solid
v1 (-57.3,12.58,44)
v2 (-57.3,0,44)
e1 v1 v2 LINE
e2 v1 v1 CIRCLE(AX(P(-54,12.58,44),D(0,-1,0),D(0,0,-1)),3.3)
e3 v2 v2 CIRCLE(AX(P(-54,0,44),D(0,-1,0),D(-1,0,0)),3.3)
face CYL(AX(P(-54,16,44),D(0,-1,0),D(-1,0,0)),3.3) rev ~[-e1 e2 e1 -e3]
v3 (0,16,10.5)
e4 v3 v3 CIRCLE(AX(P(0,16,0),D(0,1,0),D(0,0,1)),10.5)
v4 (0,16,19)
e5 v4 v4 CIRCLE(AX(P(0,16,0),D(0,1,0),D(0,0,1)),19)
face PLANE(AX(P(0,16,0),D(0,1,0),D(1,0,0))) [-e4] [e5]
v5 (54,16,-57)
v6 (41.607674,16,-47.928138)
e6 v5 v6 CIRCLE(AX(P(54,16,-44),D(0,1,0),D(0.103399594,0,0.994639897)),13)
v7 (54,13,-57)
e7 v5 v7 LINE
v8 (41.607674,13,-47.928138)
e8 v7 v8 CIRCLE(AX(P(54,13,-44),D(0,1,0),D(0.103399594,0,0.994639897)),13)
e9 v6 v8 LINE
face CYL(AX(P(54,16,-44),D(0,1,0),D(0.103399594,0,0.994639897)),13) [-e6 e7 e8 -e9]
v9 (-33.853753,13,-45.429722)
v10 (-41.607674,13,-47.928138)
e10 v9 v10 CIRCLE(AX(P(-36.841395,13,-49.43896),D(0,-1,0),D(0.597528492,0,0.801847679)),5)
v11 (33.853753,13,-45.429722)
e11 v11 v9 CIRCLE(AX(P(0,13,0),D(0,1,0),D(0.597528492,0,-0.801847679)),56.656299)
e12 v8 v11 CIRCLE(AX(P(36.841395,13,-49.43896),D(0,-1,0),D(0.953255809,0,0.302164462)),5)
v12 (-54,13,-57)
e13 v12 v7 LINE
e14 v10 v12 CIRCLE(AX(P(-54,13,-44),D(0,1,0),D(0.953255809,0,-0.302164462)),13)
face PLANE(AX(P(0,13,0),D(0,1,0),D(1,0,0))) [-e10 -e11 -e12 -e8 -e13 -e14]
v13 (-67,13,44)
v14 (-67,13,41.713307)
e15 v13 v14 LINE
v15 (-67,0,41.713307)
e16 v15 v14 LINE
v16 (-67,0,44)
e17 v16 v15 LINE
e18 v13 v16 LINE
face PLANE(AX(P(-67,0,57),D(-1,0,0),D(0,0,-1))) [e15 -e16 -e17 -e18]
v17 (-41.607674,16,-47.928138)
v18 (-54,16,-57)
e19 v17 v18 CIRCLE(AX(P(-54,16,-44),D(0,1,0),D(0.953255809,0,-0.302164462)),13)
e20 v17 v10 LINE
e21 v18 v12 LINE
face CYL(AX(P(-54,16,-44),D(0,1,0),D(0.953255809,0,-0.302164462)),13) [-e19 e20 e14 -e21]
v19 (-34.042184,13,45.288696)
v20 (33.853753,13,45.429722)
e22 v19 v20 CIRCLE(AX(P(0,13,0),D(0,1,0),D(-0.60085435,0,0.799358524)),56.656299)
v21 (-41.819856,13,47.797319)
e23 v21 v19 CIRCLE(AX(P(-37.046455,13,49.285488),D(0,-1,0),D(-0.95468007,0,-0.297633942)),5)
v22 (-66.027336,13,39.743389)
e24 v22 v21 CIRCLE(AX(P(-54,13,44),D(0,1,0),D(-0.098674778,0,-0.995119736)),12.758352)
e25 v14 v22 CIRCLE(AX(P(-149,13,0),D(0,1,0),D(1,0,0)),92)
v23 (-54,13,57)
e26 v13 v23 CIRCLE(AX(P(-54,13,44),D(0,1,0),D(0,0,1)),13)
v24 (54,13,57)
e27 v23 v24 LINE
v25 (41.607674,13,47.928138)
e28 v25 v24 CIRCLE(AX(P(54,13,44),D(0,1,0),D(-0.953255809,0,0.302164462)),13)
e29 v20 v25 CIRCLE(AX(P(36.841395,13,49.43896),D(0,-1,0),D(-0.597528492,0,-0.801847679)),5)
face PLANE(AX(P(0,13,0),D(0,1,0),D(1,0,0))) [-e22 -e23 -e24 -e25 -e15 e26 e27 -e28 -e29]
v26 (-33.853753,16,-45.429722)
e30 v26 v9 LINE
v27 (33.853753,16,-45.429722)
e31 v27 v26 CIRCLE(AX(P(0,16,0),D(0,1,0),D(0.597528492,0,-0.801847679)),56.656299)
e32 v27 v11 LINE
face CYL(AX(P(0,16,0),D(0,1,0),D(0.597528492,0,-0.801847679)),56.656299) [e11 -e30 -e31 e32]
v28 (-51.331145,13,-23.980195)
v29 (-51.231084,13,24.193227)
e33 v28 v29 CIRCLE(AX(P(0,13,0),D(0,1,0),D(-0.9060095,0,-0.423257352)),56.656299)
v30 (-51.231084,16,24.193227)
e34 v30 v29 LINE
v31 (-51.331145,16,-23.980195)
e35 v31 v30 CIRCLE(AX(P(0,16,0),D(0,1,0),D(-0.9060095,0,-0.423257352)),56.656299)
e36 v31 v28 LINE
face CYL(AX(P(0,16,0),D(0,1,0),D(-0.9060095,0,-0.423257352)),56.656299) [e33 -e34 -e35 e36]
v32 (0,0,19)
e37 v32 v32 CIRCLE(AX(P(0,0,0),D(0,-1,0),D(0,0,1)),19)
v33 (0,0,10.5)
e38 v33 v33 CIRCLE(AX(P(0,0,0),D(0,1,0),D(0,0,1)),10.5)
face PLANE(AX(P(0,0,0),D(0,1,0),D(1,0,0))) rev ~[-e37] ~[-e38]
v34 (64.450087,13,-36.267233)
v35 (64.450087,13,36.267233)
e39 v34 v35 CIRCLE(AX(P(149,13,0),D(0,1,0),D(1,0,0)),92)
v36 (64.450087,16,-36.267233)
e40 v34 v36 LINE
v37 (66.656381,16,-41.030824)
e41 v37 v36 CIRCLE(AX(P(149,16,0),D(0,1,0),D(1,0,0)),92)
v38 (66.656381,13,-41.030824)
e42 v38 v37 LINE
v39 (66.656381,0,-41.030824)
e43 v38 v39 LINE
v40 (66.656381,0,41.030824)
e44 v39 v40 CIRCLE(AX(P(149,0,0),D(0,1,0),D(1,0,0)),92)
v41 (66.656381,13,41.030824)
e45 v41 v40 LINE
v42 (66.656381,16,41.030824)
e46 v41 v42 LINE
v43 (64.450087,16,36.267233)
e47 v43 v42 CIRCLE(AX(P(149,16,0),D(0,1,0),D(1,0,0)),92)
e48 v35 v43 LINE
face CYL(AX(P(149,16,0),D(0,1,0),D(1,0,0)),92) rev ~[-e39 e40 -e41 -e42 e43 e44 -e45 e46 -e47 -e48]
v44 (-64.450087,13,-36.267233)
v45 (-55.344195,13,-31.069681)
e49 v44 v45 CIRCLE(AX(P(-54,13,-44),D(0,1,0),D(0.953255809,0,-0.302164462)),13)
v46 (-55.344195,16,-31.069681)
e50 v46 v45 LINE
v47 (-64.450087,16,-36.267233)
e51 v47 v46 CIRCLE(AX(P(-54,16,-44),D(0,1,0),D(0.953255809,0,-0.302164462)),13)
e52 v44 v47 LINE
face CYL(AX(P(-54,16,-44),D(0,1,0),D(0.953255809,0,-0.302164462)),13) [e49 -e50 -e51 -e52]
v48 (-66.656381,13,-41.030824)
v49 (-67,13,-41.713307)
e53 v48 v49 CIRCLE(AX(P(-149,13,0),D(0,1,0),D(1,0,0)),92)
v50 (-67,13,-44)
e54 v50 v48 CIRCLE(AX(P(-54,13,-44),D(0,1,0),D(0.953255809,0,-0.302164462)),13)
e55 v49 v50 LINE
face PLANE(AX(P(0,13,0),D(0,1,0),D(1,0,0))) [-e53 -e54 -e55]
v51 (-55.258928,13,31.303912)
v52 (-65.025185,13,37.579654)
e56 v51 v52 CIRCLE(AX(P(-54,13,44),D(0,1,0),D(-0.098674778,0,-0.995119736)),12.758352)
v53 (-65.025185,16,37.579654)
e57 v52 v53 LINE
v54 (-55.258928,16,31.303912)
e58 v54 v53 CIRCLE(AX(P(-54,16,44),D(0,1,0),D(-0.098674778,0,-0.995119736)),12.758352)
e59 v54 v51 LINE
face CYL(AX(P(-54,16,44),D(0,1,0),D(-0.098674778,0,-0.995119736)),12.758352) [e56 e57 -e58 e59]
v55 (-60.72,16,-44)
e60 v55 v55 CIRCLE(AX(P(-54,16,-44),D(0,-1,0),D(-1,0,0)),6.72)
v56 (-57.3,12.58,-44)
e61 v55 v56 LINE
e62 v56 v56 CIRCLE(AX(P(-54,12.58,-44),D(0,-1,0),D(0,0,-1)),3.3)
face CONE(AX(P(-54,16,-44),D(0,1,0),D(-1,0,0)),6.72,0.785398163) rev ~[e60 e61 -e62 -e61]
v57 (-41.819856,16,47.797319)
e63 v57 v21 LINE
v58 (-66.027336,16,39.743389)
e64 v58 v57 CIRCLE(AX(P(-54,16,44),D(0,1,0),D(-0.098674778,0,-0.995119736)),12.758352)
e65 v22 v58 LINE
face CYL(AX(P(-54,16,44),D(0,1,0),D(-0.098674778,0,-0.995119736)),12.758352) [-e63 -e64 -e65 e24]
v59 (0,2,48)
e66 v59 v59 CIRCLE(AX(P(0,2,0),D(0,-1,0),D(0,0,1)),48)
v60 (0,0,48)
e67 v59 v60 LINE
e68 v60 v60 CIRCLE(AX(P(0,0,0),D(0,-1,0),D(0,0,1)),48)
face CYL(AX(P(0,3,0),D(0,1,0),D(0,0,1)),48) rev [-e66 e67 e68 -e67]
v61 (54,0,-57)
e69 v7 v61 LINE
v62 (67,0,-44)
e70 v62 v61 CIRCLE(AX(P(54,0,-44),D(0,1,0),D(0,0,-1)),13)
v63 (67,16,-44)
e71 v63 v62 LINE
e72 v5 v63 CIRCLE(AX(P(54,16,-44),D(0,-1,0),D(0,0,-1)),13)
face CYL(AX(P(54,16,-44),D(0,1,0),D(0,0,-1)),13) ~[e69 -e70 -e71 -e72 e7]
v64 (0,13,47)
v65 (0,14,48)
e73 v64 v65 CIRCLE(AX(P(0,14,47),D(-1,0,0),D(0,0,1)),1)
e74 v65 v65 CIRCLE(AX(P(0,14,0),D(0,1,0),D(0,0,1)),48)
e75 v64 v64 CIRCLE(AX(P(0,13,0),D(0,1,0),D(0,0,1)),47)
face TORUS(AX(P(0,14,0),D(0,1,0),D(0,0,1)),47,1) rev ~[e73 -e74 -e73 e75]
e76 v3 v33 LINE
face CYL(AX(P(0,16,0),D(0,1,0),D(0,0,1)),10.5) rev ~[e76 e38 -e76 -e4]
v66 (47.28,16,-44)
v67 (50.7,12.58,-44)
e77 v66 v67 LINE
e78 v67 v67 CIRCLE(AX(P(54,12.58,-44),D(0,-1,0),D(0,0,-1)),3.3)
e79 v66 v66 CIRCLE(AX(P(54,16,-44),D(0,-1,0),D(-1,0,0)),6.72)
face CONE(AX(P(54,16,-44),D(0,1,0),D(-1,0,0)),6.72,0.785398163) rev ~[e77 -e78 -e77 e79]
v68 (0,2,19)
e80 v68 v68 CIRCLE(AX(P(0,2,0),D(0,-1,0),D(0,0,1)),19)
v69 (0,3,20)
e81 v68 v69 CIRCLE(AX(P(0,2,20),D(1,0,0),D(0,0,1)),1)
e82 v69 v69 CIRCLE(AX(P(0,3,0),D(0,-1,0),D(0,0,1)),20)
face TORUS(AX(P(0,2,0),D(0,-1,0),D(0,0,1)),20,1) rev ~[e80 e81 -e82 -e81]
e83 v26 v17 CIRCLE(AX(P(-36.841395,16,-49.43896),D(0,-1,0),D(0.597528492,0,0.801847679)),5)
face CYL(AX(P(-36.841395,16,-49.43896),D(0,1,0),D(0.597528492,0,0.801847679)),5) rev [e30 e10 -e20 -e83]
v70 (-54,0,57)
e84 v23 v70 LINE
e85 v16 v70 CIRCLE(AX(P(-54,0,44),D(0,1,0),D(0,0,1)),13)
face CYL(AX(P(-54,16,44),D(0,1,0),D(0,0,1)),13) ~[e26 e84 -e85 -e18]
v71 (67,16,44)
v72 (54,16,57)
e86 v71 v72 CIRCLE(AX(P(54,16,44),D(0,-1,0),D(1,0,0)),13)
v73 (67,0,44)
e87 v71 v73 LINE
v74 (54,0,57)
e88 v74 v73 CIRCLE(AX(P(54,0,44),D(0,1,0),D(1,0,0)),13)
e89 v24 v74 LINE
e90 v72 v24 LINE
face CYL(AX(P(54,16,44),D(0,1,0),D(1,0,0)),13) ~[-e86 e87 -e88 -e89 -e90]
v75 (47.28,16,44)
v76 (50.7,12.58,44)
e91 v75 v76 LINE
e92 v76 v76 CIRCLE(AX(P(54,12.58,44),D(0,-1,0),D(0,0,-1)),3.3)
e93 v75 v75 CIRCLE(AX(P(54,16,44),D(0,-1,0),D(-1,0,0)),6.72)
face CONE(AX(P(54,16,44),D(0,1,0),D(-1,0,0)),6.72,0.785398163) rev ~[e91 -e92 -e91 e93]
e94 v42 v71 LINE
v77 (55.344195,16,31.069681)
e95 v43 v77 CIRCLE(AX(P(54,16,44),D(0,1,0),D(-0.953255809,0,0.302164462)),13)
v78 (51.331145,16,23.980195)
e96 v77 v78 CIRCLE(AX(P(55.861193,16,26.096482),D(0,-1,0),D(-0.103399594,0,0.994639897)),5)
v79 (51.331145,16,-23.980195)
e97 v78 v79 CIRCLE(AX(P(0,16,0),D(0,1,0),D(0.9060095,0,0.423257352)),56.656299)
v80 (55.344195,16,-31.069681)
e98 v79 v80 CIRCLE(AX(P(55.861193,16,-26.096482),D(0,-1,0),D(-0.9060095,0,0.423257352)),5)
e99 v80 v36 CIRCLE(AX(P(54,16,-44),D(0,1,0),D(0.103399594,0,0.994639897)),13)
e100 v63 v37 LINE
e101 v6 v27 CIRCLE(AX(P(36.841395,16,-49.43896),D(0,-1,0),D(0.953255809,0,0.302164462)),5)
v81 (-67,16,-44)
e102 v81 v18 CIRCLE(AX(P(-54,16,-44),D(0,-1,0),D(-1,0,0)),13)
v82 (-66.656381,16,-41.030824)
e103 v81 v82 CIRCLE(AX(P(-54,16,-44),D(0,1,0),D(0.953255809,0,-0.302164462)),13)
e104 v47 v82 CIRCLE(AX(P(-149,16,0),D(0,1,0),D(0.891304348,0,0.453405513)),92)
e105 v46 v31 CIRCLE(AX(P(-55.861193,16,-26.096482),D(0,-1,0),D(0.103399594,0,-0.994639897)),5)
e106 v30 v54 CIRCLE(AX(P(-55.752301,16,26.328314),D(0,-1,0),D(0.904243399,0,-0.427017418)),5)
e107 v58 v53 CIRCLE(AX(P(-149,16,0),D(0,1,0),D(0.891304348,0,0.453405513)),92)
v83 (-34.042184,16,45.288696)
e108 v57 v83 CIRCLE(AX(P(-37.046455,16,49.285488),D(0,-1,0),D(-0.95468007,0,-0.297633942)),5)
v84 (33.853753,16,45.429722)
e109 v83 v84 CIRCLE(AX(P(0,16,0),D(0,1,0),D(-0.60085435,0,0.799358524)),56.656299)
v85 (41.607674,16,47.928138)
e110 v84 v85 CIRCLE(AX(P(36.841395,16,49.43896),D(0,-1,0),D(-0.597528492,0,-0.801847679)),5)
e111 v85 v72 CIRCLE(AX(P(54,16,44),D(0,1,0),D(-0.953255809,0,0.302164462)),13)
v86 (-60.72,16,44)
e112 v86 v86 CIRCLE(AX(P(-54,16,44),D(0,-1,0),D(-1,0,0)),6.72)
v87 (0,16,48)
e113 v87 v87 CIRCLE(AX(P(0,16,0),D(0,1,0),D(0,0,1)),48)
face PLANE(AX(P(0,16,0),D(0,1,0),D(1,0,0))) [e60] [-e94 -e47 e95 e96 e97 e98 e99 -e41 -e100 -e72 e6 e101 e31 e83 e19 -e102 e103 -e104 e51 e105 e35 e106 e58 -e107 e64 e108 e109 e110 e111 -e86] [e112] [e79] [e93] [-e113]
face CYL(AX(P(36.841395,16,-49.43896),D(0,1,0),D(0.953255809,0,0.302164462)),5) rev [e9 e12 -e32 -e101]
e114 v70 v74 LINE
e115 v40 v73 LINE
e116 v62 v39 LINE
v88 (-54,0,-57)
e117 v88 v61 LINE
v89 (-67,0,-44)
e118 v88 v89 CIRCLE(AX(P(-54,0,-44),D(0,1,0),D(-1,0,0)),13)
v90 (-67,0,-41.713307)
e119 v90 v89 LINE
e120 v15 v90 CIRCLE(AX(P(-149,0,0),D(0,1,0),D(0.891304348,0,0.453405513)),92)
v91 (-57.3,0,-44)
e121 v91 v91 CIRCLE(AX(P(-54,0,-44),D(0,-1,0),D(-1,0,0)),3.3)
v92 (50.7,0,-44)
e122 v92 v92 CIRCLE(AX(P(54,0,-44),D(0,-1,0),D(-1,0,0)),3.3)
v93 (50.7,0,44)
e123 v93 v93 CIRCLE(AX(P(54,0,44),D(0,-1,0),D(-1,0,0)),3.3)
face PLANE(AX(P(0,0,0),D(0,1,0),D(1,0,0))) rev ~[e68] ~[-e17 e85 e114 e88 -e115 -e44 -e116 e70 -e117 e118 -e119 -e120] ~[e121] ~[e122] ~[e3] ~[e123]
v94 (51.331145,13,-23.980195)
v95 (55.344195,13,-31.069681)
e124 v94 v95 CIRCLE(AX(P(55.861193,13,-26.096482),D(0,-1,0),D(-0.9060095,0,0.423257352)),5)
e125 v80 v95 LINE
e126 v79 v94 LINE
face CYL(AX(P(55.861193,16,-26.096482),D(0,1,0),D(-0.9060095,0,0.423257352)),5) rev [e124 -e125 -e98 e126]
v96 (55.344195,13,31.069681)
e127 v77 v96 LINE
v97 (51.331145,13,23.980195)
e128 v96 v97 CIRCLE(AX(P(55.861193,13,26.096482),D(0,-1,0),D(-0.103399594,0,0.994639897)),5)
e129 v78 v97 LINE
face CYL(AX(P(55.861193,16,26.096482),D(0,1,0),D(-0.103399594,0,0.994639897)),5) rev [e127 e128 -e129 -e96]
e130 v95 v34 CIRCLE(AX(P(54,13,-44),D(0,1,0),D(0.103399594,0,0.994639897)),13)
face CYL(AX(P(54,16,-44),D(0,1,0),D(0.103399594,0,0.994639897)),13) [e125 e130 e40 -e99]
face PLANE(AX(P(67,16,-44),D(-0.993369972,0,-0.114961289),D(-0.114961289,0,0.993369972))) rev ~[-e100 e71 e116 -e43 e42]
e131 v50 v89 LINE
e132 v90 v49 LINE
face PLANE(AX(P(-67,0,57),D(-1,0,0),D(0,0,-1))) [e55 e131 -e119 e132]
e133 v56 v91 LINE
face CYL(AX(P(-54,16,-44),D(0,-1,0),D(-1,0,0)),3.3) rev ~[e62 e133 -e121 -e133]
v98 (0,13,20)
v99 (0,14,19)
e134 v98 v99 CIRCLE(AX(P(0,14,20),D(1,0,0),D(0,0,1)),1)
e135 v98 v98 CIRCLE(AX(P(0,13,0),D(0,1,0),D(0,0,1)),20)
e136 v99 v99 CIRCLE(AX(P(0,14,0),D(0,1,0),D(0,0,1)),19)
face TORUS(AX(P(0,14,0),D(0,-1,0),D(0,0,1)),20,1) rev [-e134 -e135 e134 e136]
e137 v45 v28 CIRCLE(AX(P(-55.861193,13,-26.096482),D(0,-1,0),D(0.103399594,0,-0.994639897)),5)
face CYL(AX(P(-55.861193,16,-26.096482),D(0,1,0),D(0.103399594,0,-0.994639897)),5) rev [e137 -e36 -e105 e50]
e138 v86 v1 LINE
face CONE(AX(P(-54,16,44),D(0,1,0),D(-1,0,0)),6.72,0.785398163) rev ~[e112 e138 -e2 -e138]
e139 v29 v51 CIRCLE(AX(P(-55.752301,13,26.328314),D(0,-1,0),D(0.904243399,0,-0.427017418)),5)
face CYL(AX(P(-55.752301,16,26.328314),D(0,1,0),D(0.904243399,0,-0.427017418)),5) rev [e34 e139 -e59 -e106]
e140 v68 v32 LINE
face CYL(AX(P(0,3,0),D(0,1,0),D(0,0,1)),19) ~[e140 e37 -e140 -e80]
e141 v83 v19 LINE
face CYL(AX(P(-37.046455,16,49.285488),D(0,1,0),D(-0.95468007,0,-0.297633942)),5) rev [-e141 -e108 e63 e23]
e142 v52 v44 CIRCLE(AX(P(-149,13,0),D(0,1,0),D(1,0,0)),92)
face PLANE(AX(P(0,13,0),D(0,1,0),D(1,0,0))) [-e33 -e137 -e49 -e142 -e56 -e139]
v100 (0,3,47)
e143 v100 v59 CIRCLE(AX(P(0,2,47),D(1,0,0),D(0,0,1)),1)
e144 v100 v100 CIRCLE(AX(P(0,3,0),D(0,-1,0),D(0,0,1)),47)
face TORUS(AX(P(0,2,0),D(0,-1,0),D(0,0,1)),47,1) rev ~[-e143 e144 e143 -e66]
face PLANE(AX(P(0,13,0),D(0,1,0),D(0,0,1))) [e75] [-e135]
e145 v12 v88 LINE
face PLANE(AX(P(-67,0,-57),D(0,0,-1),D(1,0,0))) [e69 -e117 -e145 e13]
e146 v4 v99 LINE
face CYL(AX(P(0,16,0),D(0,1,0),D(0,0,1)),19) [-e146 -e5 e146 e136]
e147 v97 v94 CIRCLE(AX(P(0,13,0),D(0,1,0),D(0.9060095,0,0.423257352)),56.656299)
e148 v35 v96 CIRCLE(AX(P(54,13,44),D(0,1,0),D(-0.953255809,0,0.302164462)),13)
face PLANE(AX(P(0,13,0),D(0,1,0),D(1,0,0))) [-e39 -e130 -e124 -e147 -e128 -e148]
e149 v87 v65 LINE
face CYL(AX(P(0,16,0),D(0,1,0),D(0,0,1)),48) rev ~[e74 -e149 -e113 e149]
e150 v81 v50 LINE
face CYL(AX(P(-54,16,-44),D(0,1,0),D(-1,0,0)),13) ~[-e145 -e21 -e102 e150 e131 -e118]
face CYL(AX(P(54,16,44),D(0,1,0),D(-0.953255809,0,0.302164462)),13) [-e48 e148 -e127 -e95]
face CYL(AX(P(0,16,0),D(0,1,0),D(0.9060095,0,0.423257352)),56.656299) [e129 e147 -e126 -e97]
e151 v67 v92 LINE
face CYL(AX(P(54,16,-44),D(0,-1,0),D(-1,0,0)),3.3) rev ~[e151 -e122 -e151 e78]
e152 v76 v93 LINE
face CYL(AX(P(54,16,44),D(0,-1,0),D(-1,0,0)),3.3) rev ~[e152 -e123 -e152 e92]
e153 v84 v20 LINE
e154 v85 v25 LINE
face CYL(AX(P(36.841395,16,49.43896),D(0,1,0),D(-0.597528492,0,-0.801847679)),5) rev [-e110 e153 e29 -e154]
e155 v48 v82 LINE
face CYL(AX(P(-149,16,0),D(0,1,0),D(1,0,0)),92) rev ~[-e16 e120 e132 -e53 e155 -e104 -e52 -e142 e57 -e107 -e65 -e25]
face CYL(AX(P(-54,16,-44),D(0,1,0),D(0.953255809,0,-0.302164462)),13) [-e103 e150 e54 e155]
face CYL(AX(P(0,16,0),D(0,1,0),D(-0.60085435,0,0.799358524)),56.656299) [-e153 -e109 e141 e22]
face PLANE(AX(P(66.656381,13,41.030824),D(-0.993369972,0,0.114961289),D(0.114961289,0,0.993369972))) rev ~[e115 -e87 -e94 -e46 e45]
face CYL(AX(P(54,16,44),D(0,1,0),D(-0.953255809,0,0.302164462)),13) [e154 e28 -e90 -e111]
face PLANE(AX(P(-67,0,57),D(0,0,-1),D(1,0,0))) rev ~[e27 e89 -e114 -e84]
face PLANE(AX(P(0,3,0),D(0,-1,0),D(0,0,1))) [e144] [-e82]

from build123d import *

# Parameters (mm, degrees)
SKETCH1_W                                            = 134
SKETCH1_H                                            = 114
BOSS_EXTRUDE1_DEPTH                                  = 16
SKETCH2_R                                            = 10.5
CUT_EXTRUDE1_DEPTH                                   = 90.409171789
SKETCH3_R                                            = 48
SKETCH3_R_2                                          = 19
CUT_EXTRUDE2_DEPTH                                   = 3
CUT_EXTRUDE3_START                                   = -3
SKETCH5_R                                            = 48
SKETCH5_R_2                                          = 19
CUT_EXTRUDE3_DEPTH                                   = 3
CSK_FOR_M6_HEX_SOCKET_COUNTERSUNK_CAP_SC_D           = 6.6
CSK_FOR_M6_HEX_SOCKET_COUNTERSUNK_CAP_SC_CSINK_D     = 13.44
CSK_FOR_M6_HEX_SOCKET_COUNTERSUNK_CAP_SC_CSINK_ANGLE = 90
SKETCH10_R                                           = 92
CUT_EXTRUDE4_DEPTH                                   = 90.409171789
CUT_EXTRUDE5_DEPTH                                   = 90.409171789
SKETCH13_OUTSIDE_W                                   = 171.332
SKETCH13_OUTSIDE_H                                   = 151.332
CUT_EXTRUDE6_DEPTH                                   = 3
CUT_EXTRUDE7_DEPTH                                   = 90.409171789
CUT_EXTRUDE9_DEPTH                                   = 89.921313531
CUT_EXTRUDE10_DEPTH                                  = 90.409171789
FILLET13_R                                           = 1
FILLET14_R                                           = 1
FILLET16_R                                           = 1
FILLET18_R                                           = 1


with BuildPart() as part:
    # Sketch1 → Boss-Extrude1 (new body)
    with BuildSketch(Plane(origin=(0, 0, 0), x_dir=(1, 0, 0), z_dir=(0, 1, 0))):
        Rectangle(SKETCH1_W, SKETCH1_H)
    extrude(amount=BOSS_EXTRUDE1_DEPTH)

    # Sketch2 → Cut-Extrude1 (cut, through all)
    with BuildSketch(Plane(origin=(0, 16, 0), x_dir=(1, 0, 0), z_dir=(0, 1, 0))):
        with Locations(Location((0, 0, 0), (0, 0, 270))):
            Circle(SKETCH2_R)
    extrude(amount=-CUT_EXTRUDE1_DEPTH, mode=Mode.SUBTRACT)

    # Sketch3 → Cut-Extrude2 (cut)
    with BuildSketch(Plane(origin=(0, 16, 0), x_dir=(1, 0, 0), z_dir=(0, 1, 0))):
        with Locations(Location((0, 0, 0), (0, 0, 270))):
            Circle(SKETCH3_R)
        with Locations(Location((0, 0, 0), (0, 0, 270))):
            Circle(SKETCH3_R_2, mode=Mode.SUBTRACT)
    extrude(amount=-CUT_EXTRUDE2_DEPTH, mode=Mode.SUBTRACT)

    # Sketch5 → Cut-Extrude3 (cut)
    with BuildSketch(Plane.XZ.offset(CUT_EXTRUDE3_START)):
        with Locations(Location((0, 0, 0), (0, 0, 90))):
            Circle(SKETCH5_R)
        with Locations(Location((0, 0, 0), (0, 0, 90))):
            Circle(SKETCH5_R_2, mode=Mode.SUBTRACT)
    extrude(amount=CUT_EXTRUDE3_DEPTH, mode=Mode.SUBTRACT)

    # CSK for M6 Hex Socket Countersunk Cap Screw1 (through all)
    with Locations(Plane(origin=(0, 16, 0), x_dir=(1, 0, 0), z_dir=(0, 1, 0))):
        with Locations((-54, 44), (54, 44), (54, -44), (-54, -44)):
            CounterSinkHole(CSK_FOR_M6_HEX_SOCKET_COUNTERSUNK_CAP_SC_D / 2, CSK_FOR_M6_HEX_SOCKET_COUNTERSUNK_CAP_SC_CSINK_D / 2, counter_sink_angle=CSK_FOR_M6_HEX_SOCKET_COUNTERSUNK_CAP_SC_CSINK_ANGLE)

    # Sketch10 → Cut-Extrude4 (cut, through all)
    with BuildSketch(Plane(origin=(0, 16, 0), x_dir=(1, 0, 0), z_dir=(0, 1, 0))):
        with Locations((149, 0)):
            Circle(SKETCH10_R)
        with Locations((-149, 0)):
            Circle(SKETCH10_R)
    extrude(amount=-CUT_EXTRUDE4_DEPTH, mode=Mode.SUBTRACT)

    # Sketch12 → Cut-Extrude5 (cut, through all)
    with BuildSketch(Plane(origin=(0, 16, 0), x_dir=(1, 0, 0), z_dir=(0, 1, 0))):
        with BuildLine():
            ThreePointArc((-54, -57), (-63.192388155, -53.192388155), (-67, -44))
            Line((-67, -44), (-67, -57))
            Line((-67, -57), (-54, -57))
        make_face()
        with BuildLine():
            ThreePointArc((67, -44), (63.192388155, -53.192388155), (54, -57))
            Line((54, -57), (67, -57))
            Line((67, -57), (67, -44))
        make_face()
        with BuildLine():
            Line((-67, 57), (-67, 44))
            ThreePointArc((-67, 44), (-63.192388155, 53.192388155), (-54, 57))
            Line((-54, 57), (-67, 57))
        make_face()
        with BuildLine():
            Line((67, 57), (54, 57))
            ThreePointArc((54, 57), (63.192388155, 53.192388155), (67, 44))
            Line((67, 44), (67, 57))
        make_face()
    extrude(amount=-CUT_EXTRUDE5_DEPTH, mode=Mode.SUBTRACT)

    # Sketch13 outside → Cut-Extrude6 (cut)
    with BuildSketch(Plane(origin=(0, 16, 0), x_dir=(1, 0, 0), z_dir=(0, 1, 0))):
        Rectangle(SKETCH13_OUTSIDE_W, SKETCH13_OUTSIDE_H)
        with BuildLine():
            ThreePointArc((-51.331145195, 23.980195102), (-56.656176853, -0.117680258), (-51.231084425, -24.193226589))
            ThreePointArc((-51.231084425, -24.193226589), (-51.401784959, -28.792660763), (-55.258927529, -31.303912362))
            ThreePointArc((-55.258927529, -31.303912362), (-63.890720648, -52.059105714), (-41.819855837, -47.797318529))
            ThreePointArc((-41.819855837, -47.797318529), (-38.581301156, -44.526890885), (-34.042183736, -45.288695617))
            ThreePointArc((-34.042183736, -45.288695617), (-0.117680258, -56.656176853), (33.853752972, -45.429721922))
            ThreePointArc((33.853752972, -45.429721922), (38.374825497, -44.679906606), (41.60767448, -47.928138008))
            ThreePointArc((41.60767448, -47.928138008), (64.078054812, -52.211748365), (55.344194725, -31.069681344))
            ThreePointArc((55.344194725, -31.069681344), (51.509943359, -28.559534684), (51.331145195, -23.980195102))
            ThreePointArc((51.331145195, -23.980195102), (56.656299069, 0), (51.331145195, 23.980195102))
            ThreePointArc((51.331145195, 23.980195102), (51.509943359, 28.559534684), (55.344194725, 31.069681344))
            ThreePointArc((55.344194725, 31.069681344), (64.078054812, 52.211748365), (41.60767448, 47.928138008))
            ThreePointArc((41.60767448, 47.928138008), (38.374825497, 44.679906606), (33.853752972, 45.429721922))
            ThreePointArc((33.853752972, 45.429721922), (0, 56.656299069), (-33.853752972, 45.429721922))
            ThreePointArc((-33.853752972, 45.429721922), (-38.374825497, 44.679906606), (-41.60767448, 47.928138008))
            ThreePointArc((-41.60767448, 47.928138008), (-64.078054812, 52.211748365), (-55.344194725, 31.069681344))
            ThreePointArc((-55.344194725, 31.069681344), (-51.509943359, 28.559534684), (-51.331145195, 23.980195102))
        make_face(mode=Mode.SUBTRACT)
    extrude(amount=-CUT_EXTRUDE6_DEPTH, mode=Mode.SUBTRACT)

    # Sketch14 → Cut-Extrude7 (cut, through all)
    with BuildSketch(Plane(origin=(0, 16, 0), x_dir=(1, 0, 0), z_dir=(0, 1, 0))):
        Polygon((67, 44), (66.656381451, 41.030823587), (67, 41.713307229), align=None)
    extrude(amount=-CUT_EXTRUDE7_DEPTH, mode=Mode.SUBTRACT)

    # Sketch15 → Cut-Extrude9 (cut, through all)
    with BuildSketch(Plane(origin=(0, 13, 0), x_dir=(1, 0, 0), z_dir=(0, 1, 0))):
        Polygon((67, -41.713307229), (66.656381451, -41.030823587), (67, -44), align=None)
    extrude(amount=-CUT_EXTRUDE9_DEPTH, mode=Mode.SUBTRACT)

    # Sketch16 → Cut-Extrude10 (cut, through all)
    with BuildSketch(Plane(origin=(0, 16, 0), x_dir=(1, 0, 0), z_dir=(0, 1, 0))):
        Polygon((66.656381451, -41.030823587), (67, -44), (67.112484147, -42.334698628), align=None)
    extrude(amount=-CUT_EXTRUDE10_DEPTH, mode=Mode.SUBTRACT)

    # Fillet13
    fillet13_edges = [part.edges().sort_by_distance(p)[0] for p in [
        (0, 13, -19),
    ]]
    fillet(fillet13_edges, radius=FILLET13_R)

    # Fillet14
    fillet14_edges = [part.edges().sort_by_distance(p)[0] for p in [
        (0, 13, -48),
    ]]
    fillet(fillet14_edges, radius=FILLET14_R)

    # Fillet16
    fillet16_edges = [part.edges().sort_by_distance(p)[0] for p in [
        (0, 3, -19),
    ]]
    fillet(fillet16_edges, radius=FILLET16_R)

    # Fillet18
    fillet18_edges = [part.edges().sort_by_distance(p)[0] for p in [
        (0, 3, -48),
    ]]
    fillet(fillet18_edges, radius=FILLET18_R)


solid = part.part
